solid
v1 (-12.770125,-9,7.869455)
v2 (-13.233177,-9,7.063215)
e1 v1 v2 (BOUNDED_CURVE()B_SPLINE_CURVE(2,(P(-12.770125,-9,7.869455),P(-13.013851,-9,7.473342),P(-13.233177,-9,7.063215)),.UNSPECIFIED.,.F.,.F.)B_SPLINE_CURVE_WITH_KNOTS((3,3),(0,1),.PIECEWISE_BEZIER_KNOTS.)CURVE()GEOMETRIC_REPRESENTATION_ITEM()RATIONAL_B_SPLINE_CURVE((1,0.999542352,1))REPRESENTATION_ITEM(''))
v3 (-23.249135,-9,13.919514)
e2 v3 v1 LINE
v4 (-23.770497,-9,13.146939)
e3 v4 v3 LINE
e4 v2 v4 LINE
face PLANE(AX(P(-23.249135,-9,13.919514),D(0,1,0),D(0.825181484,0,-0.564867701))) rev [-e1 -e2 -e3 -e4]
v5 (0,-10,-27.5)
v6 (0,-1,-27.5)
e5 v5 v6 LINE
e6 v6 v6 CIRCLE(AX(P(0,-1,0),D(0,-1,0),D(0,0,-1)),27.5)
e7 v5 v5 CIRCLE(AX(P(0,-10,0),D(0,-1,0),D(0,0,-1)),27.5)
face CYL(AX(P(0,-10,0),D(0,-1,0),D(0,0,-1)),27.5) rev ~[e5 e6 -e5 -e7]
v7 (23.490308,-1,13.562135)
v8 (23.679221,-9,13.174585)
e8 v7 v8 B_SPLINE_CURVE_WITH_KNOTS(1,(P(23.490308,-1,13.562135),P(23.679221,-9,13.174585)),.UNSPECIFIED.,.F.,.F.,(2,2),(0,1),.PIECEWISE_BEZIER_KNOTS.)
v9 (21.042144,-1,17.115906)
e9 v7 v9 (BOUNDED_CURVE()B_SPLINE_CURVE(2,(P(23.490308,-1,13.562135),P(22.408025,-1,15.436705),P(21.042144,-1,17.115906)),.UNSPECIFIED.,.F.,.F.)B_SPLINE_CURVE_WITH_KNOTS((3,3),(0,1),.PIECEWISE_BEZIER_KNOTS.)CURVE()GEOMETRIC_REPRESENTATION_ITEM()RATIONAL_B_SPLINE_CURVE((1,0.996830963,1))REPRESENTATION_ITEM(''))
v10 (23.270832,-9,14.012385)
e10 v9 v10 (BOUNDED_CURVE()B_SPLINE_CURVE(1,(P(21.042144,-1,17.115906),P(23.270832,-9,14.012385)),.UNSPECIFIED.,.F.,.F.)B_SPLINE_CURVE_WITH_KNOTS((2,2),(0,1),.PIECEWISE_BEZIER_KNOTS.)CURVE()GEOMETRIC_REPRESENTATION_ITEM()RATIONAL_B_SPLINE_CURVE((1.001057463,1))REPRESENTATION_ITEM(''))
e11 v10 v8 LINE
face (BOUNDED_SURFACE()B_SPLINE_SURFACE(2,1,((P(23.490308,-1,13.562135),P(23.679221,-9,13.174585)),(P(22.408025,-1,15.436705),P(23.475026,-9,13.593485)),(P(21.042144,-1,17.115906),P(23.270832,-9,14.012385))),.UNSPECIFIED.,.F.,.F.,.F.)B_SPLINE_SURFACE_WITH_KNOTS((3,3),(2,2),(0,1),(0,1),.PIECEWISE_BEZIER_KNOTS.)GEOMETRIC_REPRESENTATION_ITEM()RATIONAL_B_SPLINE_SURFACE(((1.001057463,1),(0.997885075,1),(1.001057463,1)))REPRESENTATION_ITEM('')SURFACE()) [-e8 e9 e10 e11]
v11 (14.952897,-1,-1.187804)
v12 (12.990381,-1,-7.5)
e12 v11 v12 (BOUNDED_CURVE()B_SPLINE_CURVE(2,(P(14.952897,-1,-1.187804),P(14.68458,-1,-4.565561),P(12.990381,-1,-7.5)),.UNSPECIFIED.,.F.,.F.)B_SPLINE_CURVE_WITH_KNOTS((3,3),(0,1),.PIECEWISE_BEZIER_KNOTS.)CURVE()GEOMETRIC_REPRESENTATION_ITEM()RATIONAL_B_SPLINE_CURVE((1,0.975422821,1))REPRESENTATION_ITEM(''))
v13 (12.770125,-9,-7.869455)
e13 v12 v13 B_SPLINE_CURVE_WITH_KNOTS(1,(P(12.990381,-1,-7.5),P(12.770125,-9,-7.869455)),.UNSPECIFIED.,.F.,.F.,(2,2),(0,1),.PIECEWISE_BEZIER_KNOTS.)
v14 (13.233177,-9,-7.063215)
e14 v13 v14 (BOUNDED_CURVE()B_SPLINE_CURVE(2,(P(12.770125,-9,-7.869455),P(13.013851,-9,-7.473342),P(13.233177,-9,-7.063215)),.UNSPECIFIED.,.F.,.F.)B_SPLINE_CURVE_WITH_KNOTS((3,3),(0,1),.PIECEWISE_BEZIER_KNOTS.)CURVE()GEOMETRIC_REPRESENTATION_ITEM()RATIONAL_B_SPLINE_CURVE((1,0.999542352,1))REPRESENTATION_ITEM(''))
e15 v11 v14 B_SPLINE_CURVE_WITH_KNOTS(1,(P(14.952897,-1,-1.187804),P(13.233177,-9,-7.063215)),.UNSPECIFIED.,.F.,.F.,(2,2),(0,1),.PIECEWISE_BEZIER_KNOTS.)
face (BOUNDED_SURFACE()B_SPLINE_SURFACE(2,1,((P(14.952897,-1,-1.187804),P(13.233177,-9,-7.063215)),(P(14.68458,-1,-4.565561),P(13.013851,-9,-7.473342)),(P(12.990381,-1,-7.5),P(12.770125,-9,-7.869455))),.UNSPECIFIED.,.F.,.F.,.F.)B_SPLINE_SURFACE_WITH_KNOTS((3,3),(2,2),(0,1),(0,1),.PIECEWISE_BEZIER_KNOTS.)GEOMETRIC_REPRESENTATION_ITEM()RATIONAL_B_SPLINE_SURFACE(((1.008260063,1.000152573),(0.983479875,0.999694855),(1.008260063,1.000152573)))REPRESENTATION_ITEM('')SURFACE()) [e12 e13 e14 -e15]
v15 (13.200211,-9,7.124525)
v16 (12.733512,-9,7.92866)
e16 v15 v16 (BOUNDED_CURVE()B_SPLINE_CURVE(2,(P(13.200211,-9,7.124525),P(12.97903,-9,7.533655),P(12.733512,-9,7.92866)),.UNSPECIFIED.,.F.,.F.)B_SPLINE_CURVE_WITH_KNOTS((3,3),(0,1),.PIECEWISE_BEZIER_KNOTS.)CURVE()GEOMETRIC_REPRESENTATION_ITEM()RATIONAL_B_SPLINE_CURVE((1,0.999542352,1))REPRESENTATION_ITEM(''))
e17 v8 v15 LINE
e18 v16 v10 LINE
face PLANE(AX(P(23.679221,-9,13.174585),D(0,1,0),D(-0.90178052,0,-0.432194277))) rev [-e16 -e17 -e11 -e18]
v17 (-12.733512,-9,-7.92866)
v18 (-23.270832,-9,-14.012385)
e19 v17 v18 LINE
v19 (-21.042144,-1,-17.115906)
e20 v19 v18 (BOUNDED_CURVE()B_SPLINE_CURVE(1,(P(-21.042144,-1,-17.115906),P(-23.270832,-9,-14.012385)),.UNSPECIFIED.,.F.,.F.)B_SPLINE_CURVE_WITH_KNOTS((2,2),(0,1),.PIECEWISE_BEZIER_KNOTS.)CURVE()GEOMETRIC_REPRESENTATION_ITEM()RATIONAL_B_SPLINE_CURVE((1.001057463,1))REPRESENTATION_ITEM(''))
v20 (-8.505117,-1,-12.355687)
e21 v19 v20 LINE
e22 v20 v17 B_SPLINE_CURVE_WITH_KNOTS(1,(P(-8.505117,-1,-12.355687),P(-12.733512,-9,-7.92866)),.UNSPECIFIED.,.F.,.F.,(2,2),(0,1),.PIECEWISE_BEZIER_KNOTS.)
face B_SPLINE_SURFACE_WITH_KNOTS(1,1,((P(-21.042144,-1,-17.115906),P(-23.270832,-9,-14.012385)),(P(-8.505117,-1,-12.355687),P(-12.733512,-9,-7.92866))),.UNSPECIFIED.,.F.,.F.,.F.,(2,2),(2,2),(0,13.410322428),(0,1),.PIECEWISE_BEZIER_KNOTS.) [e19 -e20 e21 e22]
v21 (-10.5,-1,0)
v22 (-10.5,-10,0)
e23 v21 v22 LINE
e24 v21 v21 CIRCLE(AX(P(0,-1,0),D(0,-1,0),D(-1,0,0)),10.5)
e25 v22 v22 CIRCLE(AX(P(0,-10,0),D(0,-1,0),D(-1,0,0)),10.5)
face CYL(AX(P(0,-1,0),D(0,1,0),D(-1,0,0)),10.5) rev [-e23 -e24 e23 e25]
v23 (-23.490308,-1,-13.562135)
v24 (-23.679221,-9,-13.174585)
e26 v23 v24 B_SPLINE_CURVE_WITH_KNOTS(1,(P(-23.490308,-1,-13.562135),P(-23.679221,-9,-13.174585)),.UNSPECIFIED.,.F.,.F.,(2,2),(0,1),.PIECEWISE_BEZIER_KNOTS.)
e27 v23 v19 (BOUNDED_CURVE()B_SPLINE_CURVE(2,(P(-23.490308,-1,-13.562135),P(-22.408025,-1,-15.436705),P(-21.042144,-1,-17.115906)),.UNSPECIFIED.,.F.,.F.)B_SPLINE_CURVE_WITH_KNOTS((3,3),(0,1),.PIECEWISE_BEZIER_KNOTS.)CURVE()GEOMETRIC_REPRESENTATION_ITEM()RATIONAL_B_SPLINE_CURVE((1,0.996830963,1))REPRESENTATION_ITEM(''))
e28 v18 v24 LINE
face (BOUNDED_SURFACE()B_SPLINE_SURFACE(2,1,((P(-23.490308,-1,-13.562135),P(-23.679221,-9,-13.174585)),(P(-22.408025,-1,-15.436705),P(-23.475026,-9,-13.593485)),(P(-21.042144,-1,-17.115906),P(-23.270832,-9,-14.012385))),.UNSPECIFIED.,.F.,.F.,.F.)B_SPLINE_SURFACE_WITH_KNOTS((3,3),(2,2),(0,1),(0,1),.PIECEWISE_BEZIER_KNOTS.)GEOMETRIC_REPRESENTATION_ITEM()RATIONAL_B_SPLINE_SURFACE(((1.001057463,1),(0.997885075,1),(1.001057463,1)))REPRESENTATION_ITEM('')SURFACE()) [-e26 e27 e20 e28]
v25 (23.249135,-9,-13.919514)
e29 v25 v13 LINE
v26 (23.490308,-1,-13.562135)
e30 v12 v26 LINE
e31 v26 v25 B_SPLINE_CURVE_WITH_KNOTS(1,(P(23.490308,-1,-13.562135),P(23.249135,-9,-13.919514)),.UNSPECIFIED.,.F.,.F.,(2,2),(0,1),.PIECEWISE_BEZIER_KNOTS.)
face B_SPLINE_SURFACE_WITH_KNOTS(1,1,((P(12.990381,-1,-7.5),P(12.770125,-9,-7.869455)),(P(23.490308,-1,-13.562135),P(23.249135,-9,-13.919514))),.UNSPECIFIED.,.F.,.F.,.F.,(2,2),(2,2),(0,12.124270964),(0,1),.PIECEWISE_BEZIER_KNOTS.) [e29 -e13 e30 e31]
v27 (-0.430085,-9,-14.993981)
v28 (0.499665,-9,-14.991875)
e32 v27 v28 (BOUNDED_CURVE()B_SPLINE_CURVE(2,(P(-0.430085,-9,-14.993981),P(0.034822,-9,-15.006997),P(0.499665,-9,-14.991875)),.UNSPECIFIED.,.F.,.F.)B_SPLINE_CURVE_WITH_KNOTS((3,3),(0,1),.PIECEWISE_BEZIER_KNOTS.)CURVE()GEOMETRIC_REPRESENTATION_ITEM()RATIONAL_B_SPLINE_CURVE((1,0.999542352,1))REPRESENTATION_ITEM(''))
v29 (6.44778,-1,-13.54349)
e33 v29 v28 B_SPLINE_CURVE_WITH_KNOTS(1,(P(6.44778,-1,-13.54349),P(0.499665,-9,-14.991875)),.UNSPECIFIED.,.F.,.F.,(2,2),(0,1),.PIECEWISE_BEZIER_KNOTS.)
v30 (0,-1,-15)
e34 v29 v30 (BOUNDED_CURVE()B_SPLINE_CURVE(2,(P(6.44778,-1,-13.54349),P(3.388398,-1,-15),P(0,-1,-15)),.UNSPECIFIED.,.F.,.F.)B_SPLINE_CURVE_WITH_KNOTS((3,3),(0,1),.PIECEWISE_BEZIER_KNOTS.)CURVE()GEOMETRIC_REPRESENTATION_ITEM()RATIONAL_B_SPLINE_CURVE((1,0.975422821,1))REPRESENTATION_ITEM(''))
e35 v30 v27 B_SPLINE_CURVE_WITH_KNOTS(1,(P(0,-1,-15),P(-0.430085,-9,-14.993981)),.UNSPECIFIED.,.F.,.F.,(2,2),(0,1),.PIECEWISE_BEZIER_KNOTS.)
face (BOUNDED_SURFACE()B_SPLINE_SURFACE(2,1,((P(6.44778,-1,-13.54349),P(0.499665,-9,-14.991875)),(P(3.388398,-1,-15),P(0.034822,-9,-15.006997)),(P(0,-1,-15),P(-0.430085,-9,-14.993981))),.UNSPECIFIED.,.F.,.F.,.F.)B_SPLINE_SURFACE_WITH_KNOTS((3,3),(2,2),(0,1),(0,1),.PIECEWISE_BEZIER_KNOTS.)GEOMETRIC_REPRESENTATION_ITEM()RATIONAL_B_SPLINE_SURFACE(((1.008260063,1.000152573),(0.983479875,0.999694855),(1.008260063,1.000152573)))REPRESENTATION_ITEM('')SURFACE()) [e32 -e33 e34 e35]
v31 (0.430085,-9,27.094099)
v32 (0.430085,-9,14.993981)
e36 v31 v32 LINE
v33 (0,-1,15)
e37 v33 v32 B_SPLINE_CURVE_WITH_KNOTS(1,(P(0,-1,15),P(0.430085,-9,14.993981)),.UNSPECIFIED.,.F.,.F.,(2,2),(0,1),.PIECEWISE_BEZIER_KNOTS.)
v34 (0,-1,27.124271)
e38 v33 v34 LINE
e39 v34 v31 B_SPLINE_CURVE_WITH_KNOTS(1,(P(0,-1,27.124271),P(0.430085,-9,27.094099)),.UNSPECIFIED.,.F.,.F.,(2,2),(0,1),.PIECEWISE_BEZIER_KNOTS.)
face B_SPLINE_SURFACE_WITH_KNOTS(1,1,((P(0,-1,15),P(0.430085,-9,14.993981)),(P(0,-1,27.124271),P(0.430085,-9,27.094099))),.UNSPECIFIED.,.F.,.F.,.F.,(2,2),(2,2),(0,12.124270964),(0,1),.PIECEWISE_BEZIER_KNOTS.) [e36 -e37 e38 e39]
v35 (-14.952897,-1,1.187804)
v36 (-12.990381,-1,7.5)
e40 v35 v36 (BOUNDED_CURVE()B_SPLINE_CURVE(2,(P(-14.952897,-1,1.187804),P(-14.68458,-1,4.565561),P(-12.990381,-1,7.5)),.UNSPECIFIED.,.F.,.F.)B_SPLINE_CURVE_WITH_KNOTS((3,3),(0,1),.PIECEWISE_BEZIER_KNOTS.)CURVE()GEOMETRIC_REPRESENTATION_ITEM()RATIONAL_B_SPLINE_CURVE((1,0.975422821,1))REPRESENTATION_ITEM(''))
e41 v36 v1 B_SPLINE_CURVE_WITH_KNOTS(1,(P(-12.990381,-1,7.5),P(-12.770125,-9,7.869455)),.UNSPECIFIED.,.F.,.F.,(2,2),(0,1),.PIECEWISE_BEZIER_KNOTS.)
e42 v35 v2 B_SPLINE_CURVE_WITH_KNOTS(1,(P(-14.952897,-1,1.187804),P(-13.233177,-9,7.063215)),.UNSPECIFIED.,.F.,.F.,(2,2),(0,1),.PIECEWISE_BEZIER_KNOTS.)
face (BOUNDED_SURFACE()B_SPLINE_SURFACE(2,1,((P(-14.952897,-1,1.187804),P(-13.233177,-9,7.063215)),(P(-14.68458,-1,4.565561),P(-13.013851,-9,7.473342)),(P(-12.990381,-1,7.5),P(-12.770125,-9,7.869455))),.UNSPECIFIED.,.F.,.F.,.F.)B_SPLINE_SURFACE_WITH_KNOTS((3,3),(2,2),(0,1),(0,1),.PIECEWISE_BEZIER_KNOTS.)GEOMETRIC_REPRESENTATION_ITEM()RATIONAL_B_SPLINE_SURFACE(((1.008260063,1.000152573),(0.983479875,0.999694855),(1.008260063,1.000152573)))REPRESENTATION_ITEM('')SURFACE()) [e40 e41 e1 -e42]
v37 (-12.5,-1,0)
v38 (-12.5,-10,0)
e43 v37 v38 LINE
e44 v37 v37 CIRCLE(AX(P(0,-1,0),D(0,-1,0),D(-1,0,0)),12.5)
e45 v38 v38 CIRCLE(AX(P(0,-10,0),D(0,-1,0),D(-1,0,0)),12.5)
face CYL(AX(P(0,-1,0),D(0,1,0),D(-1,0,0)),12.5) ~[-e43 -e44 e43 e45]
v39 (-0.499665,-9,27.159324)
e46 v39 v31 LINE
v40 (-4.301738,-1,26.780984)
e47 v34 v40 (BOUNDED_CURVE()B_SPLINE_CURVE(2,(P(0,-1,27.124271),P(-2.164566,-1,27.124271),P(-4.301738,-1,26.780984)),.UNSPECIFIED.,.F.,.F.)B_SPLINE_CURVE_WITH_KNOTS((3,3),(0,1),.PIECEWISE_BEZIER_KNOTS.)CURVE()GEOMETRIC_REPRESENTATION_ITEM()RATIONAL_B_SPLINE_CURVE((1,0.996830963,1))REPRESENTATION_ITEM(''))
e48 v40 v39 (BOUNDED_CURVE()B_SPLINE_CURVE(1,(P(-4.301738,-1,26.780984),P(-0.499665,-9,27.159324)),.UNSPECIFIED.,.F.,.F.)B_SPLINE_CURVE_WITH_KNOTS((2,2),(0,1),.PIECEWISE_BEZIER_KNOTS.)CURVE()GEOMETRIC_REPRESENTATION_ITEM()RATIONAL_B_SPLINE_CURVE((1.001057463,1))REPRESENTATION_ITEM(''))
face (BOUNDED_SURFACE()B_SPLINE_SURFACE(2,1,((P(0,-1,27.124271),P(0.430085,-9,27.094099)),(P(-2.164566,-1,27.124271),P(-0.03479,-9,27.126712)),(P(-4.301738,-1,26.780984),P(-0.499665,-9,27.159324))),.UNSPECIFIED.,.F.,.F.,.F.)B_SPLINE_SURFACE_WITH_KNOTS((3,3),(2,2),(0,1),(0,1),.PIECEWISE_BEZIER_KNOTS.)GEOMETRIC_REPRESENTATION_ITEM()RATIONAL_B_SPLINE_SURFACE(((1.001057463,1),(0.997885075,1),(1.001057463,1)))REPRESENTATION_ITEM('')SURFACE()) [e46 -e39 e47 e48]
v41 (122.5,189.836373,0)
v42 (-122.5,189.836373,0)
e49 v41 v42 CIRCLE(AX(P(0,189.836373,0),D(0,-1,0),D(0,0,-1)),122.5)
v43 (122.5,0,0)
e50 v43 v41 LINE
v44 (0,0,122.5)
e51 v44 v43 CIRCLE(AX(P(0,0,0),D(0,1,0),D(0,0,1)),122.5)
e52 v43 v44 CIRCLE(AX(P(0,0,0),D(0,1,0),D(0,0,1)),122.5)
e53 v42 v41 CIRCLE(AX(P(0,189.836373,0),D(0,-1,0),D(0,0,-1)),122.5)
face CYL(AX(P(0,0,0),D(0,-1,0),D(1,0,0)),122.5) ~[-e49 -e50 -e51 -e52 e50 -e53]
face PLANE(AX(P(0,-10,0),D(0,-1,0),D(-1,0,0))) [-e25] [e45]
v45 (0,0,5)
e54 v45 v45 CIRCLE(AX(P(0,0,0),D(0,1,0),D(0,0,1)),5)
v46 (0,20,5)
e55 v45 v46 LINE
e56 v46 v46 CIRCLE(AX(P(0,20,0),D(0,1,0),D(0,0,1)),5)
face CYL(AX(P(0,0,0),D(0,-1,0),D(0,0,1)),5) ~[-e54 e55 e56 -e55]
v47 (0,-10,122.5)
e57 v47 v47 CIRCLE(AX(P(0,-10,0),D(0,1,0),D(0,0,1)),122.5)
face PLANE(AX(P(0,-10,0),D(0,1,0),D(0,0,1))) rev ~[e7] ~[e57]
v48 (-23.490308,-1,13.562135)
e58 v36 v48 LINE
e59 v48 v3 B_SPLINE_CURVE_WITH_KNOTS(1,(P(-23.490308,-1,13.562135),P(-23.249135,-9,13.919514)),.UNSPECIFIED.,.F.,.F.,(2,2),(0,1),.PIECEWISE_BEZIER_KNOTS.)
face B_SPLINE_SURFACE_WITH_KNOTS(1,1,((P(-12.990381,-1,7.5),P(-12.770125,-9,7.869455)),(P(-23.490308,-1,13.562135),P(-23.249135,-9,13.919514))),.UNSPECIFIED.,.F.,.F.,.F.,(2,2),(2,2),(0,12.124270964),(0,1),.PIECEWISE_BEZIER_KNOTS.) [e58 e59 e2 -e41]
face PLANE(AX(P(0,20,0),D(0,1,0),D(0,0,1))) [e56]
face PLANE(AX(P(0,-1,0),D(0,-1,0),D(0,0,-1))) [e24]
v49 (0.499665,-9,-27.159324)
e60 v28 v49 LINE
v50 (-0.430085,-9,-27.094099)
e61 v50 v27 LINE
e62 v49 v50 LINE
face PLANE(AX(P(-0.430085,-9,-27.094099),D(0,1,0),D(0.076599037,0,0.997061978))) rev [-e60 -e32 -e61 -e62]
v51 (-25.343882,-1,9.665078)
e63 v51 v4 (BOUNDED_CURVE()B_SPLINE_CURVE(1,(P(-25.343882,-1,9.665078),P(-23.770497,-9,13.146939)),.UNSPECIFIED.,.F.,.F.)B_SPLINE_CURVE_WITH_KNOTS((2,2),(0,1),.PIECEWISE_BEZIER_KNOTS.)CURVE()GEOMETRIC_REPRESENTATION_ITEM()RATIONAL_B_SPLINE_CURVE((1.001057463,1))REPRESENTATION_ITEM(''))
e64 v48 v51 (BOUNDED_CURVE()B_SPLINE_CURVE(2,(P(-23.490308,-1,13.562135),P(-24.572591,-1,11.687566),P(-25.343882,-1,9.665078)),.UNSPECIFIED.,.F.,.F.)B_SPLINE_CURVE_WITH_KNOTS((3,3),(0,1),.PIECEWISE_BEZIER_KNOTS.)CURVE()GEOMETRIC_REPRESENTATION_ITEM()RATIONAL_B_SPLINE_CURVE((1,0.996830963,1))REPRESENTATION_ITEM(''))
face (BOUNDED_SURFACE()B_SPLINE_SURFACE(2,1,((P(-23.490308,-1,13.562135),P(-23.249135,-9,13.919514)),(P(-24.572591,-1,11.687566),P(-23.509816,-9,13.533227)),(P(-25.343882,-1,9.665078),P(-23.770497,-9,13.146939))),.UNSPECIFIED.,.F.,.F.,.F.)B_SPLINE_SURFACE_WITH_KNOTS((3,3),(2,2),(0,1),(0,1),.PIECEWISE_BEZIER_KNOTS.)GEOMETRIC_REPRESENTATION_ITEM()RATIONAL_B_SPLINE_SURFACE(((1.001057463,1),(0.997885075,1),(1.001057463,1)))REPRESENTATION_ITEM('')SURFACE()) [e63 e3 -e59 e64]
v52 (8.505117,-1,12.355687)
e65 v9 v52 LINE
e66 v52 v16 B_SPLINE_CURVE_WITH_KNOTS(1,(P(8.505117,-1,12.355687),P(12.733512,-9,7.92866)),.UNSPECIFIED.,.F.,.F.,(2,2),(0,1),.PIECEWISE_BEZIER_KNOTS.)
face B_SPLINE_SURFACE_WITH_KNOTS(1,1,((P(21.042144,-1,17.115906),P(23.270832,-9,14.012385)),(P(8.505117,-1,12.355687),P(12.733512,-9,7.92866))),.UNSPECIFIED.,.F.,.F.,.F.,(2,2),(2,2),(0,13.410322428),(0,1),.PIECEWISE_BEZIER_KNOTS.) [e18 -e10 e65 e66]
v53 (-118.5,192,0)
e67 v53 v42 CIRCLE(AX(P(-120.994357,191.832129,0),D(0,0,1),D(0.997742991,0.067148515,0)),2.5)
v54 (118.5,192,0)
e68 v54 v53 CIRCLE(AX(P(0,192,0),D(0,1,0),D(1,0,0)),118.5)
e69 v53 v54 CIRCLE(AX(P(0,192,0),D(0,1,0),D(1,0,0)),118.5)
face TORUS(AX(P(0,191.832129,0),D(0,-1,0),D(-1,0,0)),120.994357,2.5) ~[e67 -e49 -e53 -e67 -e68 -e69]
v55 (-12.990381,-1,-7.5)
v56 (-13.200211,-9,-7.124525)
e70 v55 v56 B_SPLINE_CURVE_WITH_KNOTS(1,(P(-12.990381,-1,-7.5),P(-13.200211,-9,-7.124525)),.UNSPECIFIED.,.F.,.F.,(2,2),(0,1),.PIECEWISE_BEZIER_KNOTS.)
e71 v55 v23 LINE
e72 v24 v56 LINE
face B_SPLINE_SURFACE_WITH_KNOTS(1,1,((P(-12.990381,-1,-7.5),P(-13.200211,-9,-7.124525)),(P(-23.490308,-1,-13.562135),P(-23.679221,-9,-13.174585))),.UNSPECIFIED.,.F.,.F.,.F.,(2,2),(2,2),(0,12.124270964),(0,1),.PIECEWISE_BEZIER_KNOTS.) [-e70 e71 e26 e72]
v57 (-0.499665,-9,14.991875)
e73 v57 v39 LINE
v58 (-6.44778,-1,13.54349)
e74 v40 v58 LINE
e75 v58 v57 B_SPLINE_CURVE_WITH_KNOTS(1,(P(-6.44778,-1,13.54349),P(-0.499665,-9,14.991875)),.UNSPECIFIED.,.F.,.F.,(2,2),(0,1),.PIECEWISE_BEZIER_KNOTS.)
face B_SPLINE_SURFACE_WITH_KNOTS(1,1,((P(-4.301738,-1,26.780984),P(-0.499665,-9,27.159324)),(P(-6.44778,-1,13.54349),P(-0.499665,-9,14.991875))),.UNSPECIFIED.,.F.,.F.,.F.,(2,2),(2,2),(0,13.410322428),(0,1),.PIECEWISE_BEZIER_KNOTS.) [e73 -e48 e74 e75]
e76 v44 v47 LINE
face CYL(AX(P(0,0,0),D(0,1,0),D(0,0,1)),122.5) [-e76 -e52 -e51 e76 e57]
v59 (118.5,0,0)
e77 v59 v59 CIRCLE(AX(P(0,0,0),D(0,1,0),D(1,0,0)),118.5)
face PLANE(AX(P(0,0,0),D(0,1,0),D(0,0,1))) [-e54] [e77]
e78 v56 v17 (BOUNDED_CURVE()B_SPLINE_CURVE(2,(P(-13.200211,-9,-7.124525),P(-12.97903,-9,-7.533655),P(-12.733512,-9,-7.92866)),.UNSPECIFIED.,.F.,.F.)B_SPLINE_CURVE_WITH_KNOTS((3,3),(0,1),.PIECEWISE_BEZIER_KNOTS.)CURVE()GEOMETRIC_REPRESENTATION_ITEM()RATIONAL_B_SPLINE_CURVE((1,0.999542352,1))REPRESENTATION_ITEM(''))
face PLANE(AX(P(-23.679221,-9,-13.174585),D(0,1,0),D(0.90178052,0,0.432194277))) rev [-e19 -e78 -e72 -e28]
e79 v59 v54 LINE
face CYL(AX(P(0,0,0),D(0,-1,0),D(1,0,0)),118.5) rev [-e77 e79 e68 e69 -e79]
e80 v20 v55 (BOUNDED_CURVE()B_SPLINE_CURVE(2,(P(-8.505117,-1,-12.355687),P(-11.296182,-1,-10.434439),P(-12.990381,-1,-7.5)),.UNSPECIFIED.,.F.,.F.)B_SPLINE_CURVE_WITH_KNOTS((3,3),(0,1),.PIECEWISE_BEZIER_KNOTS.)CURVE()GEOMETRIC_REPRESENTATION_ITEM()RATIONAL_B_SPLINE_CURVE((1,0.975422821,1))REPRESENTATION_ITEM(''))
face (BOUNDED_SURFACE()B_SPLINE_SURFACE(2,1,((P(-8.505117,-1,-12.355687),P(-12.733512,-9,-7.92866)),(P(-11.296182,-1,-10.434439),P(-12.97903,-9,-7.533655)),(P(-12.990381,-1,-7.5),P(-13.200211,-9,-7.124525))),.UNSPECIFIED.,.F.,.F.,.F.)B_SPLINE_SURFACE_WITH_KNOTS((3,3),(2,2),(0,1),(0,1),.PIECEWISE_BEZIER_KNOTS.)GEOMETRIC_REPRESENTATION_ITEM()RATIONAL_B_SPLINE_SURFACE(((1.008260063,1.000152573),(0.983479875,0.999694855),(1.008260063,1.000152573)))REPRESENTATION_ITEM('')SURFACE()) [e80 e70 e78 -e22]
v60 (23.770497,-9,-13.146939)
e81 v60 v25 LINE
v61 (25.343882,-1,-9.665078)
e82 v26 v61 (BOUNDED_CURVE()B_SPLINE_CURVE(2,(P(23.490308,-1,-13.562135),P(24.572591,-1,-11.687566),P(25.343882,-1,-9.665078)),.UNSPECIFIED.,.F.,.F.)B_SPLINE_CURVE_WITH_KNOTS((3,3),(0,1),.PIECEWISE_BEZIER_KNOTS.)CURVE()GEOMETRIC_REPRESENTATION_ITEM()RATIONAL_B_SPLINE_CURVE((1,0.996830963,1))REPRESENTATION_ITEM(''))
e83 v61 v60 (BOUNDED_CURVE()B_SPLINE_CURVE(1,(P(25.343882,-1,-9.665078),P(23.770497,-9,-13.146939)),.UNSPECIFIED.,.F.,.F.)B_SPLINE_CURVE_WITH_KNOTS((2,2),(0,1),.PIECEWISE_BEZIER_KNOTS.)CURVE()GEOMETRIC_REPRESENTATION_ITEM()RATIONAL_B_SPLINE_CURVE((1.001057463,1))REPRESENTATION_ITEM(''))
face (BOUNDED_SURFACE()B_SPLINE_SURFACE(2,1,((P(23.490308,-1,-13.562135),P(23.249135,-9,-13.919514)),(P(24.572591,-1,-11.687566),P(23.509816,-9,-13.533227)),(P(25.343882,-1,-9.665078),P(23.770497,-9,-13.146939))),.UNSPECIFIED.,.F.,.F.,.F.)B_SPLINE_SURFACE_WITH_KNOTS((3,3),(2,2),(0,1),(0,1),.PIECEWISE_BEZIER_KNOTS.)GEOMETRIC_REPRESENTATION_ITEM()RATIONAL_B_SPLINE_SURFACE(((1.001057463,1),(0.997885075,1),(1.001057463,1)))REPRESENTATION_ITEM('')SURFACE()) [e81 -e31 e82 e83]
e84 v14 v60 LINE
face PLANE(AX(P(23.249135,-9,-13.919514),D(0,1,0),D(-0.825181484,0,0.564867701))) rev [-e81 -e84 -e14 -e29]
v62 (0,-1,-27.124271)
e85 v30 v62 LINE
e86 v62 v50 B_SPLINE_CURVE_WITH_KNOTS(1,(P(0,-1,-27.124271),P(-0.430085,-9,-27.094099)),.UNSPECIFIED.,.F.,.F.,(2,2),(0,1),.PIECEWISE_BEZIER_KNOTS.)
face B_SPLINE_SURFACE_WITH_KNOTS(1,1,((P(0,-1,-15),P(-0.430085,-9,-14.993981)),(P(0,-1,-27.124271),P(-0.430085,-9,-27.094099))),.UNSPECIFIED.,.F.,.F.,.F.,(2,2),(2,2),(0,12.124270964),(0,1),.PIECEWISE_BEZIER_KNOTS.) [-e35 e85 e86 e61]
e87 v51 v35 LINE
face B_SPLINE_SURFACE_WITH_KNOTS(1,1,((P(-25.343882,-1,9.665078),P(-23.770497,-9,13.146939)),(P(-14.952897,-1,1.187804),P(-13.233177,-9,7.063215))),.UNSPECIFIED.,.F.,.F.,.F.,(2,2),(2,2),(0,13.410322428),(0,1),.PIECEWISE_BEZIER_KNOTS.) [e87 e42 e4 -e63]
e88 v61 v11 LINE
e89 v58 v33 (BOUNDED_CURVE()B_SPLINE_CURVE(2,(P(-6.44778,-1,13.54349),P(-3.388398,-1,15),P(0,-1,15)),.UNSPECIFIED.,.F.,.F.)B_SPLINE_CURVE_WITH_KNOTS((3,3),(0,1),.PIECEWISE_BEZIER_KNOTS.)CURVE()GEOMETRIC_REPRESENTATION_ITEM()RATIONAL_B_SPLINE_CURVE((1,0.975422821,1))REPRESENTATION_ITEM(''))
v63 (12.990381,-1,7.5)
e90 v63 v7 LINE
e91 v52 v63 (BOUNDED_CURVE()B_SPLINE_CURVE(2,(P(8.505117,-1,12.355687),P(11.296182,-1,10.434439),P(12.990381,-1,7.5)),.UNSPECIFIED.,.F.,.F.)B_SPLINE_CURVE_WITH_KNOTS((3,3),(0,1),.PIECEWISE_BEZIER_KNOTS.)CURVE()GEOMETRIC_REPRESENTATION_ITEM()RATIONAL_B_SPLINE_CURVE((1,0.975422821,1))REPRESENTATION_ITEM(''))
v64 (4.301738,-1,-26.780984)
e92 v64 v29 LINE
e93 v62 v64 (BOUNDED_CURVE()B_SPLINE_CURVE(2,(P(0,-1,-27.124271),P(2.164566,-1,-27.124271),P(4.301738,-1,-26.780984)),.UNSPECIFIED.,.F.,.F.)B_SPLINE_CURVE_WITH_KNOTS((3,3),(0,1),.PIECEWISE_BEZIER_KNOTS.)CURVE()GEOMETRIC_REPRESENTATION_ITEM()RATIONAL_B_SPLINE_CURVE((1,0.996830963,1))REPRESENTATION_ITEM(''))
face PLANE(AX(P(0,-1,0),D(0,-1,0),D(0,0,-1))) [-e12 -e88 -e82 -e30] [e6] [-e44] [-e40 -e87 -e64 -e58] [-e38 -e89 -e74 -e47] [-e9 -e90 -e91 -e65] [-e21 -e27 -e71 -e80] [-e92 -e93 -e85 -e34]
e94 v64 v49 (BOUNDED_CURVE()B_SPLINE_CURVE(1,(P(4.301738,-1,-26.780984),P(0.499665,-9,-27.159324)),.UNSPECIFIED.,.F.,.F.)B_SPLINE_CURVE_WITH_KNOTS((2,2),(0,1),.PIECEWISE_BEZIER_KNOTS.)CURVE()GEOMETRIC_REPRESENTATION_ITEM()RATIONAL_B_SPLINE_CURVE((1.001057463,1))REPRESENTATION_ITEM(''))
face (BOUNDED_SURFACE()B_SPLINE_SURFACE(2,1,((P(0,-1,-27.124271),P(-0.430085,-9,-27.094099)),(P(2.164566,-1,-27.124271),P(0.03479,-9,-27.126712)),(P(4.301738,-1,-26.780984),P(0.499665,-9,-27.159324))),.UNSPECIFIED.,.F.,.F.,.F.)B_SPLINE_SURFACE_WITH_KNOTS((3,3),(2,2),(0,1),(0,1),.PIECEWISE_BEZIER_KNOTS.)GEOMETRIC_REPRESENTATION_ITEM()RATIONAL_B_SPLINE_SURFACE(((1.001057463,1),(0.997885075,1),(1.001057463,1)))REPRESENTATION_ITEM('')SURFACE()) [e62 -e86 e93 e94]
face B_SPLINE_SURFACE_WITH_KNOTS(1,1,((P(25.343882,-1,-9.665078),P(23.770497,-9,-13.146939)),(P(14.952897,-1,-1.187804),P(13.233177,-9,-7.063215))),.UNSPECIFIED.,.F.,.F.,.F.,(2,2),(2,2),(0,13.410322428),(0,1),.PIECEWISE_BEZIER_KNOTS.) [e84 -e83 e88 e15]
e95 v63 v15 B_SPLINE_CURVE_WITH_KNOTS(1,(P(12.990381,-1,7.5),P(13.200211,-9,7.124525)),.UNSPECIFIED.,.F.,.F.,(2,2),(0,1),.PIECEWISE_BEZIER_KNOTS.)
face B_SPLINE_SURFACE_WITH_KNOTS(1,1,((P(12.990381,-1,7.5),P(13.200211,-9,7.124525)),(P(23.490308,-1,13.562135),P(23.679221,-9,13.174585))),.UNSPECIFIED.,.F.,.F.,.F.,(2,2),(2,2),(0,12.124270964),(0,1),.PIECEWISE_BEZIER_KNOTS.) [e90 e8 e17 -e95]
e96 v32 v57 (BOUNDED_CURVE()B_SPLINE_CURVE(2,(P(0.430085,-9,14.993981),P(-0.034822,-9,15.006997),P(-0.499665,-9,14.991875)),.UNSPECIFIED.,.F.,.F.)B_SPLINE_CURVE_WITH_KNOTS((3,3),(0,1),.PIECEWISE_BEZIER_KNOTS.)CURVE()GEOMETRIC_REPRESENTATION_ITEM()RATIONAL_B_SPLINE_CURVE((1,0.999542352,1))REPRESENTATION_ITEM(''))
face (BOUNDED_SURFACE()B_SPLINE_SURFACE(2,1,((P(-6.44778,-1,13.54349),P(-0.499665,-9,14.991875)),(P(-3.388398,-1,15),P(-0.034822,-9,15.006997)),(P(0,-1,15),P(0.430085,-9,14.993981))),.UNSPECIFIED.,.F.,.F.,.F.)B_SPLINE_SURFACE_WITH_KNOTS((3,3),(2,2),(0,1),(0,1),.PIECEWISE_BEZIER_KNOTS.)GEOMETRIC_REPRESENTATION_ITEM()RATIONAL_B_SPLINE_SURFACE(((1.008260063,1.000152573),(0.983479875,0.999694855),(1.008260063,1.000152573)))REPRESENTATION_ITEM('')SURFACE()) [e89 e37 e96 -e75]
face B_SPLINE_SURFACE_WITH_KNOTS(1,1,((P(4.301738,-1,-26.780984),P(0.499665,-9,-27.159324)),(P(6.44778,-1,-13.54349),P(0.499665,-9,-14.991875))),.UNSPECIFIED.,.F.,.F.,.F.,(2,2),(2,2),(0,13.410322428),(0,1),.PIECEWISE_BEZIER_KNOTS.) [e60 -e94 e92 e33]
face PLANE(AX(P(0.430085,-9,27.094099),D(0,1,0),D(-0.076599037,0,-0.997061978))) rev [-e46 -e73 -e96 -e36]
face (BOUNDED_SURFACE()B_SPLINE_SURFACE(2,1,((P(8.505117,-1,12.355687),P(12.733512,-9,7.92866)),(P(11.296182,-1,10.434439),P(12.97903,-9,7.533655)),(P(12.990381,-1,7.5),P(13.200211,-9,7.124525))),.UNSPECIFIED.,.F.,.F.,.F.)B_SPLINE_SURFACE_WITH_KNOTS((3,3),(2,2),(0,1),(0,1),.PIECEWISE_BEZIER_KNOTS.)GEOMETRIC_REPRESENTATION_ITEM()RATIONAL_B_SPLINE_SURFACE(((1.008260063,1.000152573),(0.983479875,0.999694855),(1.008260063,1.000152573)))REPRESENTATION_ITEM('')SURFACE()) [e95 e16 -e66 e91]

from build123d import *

# Parameters (mm, degrees)
SKETCH3_R           = 122.5
SKETCH3_R_2         = 118.5
EXTRUDE_THIN1_DEPTH = 192
SKETCH3_3_R         = 122.5
BOSS_EXTRUDE4_DEPTH = 10
SKETCH11_R          = 5
BOSS_EXTRUDE5_DEPTH = 20
SKETCH13_R          = 27.5
CUT_EXTRUDE2_DEPTH  = 9
CIRPATTERN1_COUNT   = 6
SKETCH23_R          = 12.5
SKETCH23_R_2        = 10.5
EXTRUDE_THIN2_DEPTH = 9


with BuildPart() as part:
    # Sketch3 → Extrude-Thin1 (new body)
    with BuildSketch(Plane(origin=(0, 0, 0), x_dir=(1, 0, 0), z_dir=(0, 1, 0))):
        Circle(SKETCH3_R)
        Circle(SKETCH3_R_2, mode=Mode.SUBTRACT)
    extrude(amount=EXTRUDE_THIN1_DEPTH)

    # Sketch9 → Revolve2 (revolve)
    with BuildSketch(Plane.XY):
        with BuildLine():
            Line((121.305664583, 189.351586859), (121.305664583, 192))
            Line((121.305664583, 192), (118.5, 192))
            ThreePointArc((118.5, 192), (122.710443221, 193.650108285), (121.305664583, 189.351586859))
        make_face()
    revolve(axis=Axis((0, -1000, 0), (0, 1, 0)))


with BuildPart() as body_2:
    # Sketch3<3> → Boss-Extrude4 (new body)
    with BuildSketch(Plane(origin=(0, 0, 0), x_dir=(1, 0, 0), z_dir=(0, 1, 0))):
        Circle(SKETCH3_3_R)
    extrude(amount=-BOSS_EXTRUDE4_DEPTH)


    add(part.part)  # Boss-Extrude5 merges part
    # Sketch11 → Boss-Extrude5 (add)
    with BuildSketch(Plane(origin=(0, 0, 0), x_dir=(1, 0, 0), z_dir=(0, 1, 0))):
        Circle(SKETCH11_R)
    extrude(amount=BOSS_EXTRUDE5_DEPTH)

    # Sketch13 → Cut-Extrude2 (cut)
    with BuildSketch(Plane.XZ.offset(10)):
        Circle(SKETCH13_R)
    extrude(amount=-CUT_EXTRUDE2_DEPTH, mode=Mode.SUBTRACT)

    # Sketch15 for Loft10 → Loft10 section 0
    with BuildSketch(Plane.XZ.offset(1)):
        with BuildLine():
            Line((0, -15), (0, -27.124270964))
            # circular arc as an exact rational Bezier (weights 1, cos(half-angle), 1)
            Bezier((0, -27.124270964), (2.164566304, -27.124270964), (4.301737718, -26.780984447), weights=[1, 0.996830963, 1])
            Line((4.301737718, -26.780984447), (6.447780139, -13.543490366))
            Bezier((6.447780139, -13.543490366), (3.388397874, -15), (0, -15), weights=[1, 0.975422821, 1])
        make_face()
    # Sketch19 for Loft10 → Loft10 section 1
    with BuildSketch(Plane(origin=(0, -9, 0), x_dir=(1, 0, 0), z_dir=(0, 1, 0))):
        with BuildLine():
            Line((-0.43008531, 27.094099047), (-0.43008531, 14.993980537))
            Bezier((-0.43008531, 14.993980537), (0.03482173, 15.006996741), (0.49966504, 14.99187476), weights=[1, 0.999542352, 1])
            Line((0.49966504, 14.99187476), (0.49966504, 27.159324131))
            Line((0.49966504, 27.159324131), (-0.43008531, 27.094099047))
        make_face()
    loft10 = loft()

    # CirPattern1: Loft10 ×6 about axis
    cirpattern1_axis = Axis((0, -1000, 0), (0, 1, 0))
    for i in range(1, CIRPATTERN1_COUNT):
        add(loft10.rotate(cirpattern1_axis, i * 360 / CIRPATTERN1_COUNT))

    # Sketch23 → Extrude-Thin2 (add)
    with BuildSketch(Plane(origin=(0, -1, 0), x_dir=(-1, 0, 0), z_dir=(0, -1, 0))):
        Circle(SKETCH23_R)
        Circle(SKETCH23_R_2, mode=Mode.SUBTRACT)
    extrude(amount=EXTRUDE_THIN2_DEPTH)


solid = body_2.part
